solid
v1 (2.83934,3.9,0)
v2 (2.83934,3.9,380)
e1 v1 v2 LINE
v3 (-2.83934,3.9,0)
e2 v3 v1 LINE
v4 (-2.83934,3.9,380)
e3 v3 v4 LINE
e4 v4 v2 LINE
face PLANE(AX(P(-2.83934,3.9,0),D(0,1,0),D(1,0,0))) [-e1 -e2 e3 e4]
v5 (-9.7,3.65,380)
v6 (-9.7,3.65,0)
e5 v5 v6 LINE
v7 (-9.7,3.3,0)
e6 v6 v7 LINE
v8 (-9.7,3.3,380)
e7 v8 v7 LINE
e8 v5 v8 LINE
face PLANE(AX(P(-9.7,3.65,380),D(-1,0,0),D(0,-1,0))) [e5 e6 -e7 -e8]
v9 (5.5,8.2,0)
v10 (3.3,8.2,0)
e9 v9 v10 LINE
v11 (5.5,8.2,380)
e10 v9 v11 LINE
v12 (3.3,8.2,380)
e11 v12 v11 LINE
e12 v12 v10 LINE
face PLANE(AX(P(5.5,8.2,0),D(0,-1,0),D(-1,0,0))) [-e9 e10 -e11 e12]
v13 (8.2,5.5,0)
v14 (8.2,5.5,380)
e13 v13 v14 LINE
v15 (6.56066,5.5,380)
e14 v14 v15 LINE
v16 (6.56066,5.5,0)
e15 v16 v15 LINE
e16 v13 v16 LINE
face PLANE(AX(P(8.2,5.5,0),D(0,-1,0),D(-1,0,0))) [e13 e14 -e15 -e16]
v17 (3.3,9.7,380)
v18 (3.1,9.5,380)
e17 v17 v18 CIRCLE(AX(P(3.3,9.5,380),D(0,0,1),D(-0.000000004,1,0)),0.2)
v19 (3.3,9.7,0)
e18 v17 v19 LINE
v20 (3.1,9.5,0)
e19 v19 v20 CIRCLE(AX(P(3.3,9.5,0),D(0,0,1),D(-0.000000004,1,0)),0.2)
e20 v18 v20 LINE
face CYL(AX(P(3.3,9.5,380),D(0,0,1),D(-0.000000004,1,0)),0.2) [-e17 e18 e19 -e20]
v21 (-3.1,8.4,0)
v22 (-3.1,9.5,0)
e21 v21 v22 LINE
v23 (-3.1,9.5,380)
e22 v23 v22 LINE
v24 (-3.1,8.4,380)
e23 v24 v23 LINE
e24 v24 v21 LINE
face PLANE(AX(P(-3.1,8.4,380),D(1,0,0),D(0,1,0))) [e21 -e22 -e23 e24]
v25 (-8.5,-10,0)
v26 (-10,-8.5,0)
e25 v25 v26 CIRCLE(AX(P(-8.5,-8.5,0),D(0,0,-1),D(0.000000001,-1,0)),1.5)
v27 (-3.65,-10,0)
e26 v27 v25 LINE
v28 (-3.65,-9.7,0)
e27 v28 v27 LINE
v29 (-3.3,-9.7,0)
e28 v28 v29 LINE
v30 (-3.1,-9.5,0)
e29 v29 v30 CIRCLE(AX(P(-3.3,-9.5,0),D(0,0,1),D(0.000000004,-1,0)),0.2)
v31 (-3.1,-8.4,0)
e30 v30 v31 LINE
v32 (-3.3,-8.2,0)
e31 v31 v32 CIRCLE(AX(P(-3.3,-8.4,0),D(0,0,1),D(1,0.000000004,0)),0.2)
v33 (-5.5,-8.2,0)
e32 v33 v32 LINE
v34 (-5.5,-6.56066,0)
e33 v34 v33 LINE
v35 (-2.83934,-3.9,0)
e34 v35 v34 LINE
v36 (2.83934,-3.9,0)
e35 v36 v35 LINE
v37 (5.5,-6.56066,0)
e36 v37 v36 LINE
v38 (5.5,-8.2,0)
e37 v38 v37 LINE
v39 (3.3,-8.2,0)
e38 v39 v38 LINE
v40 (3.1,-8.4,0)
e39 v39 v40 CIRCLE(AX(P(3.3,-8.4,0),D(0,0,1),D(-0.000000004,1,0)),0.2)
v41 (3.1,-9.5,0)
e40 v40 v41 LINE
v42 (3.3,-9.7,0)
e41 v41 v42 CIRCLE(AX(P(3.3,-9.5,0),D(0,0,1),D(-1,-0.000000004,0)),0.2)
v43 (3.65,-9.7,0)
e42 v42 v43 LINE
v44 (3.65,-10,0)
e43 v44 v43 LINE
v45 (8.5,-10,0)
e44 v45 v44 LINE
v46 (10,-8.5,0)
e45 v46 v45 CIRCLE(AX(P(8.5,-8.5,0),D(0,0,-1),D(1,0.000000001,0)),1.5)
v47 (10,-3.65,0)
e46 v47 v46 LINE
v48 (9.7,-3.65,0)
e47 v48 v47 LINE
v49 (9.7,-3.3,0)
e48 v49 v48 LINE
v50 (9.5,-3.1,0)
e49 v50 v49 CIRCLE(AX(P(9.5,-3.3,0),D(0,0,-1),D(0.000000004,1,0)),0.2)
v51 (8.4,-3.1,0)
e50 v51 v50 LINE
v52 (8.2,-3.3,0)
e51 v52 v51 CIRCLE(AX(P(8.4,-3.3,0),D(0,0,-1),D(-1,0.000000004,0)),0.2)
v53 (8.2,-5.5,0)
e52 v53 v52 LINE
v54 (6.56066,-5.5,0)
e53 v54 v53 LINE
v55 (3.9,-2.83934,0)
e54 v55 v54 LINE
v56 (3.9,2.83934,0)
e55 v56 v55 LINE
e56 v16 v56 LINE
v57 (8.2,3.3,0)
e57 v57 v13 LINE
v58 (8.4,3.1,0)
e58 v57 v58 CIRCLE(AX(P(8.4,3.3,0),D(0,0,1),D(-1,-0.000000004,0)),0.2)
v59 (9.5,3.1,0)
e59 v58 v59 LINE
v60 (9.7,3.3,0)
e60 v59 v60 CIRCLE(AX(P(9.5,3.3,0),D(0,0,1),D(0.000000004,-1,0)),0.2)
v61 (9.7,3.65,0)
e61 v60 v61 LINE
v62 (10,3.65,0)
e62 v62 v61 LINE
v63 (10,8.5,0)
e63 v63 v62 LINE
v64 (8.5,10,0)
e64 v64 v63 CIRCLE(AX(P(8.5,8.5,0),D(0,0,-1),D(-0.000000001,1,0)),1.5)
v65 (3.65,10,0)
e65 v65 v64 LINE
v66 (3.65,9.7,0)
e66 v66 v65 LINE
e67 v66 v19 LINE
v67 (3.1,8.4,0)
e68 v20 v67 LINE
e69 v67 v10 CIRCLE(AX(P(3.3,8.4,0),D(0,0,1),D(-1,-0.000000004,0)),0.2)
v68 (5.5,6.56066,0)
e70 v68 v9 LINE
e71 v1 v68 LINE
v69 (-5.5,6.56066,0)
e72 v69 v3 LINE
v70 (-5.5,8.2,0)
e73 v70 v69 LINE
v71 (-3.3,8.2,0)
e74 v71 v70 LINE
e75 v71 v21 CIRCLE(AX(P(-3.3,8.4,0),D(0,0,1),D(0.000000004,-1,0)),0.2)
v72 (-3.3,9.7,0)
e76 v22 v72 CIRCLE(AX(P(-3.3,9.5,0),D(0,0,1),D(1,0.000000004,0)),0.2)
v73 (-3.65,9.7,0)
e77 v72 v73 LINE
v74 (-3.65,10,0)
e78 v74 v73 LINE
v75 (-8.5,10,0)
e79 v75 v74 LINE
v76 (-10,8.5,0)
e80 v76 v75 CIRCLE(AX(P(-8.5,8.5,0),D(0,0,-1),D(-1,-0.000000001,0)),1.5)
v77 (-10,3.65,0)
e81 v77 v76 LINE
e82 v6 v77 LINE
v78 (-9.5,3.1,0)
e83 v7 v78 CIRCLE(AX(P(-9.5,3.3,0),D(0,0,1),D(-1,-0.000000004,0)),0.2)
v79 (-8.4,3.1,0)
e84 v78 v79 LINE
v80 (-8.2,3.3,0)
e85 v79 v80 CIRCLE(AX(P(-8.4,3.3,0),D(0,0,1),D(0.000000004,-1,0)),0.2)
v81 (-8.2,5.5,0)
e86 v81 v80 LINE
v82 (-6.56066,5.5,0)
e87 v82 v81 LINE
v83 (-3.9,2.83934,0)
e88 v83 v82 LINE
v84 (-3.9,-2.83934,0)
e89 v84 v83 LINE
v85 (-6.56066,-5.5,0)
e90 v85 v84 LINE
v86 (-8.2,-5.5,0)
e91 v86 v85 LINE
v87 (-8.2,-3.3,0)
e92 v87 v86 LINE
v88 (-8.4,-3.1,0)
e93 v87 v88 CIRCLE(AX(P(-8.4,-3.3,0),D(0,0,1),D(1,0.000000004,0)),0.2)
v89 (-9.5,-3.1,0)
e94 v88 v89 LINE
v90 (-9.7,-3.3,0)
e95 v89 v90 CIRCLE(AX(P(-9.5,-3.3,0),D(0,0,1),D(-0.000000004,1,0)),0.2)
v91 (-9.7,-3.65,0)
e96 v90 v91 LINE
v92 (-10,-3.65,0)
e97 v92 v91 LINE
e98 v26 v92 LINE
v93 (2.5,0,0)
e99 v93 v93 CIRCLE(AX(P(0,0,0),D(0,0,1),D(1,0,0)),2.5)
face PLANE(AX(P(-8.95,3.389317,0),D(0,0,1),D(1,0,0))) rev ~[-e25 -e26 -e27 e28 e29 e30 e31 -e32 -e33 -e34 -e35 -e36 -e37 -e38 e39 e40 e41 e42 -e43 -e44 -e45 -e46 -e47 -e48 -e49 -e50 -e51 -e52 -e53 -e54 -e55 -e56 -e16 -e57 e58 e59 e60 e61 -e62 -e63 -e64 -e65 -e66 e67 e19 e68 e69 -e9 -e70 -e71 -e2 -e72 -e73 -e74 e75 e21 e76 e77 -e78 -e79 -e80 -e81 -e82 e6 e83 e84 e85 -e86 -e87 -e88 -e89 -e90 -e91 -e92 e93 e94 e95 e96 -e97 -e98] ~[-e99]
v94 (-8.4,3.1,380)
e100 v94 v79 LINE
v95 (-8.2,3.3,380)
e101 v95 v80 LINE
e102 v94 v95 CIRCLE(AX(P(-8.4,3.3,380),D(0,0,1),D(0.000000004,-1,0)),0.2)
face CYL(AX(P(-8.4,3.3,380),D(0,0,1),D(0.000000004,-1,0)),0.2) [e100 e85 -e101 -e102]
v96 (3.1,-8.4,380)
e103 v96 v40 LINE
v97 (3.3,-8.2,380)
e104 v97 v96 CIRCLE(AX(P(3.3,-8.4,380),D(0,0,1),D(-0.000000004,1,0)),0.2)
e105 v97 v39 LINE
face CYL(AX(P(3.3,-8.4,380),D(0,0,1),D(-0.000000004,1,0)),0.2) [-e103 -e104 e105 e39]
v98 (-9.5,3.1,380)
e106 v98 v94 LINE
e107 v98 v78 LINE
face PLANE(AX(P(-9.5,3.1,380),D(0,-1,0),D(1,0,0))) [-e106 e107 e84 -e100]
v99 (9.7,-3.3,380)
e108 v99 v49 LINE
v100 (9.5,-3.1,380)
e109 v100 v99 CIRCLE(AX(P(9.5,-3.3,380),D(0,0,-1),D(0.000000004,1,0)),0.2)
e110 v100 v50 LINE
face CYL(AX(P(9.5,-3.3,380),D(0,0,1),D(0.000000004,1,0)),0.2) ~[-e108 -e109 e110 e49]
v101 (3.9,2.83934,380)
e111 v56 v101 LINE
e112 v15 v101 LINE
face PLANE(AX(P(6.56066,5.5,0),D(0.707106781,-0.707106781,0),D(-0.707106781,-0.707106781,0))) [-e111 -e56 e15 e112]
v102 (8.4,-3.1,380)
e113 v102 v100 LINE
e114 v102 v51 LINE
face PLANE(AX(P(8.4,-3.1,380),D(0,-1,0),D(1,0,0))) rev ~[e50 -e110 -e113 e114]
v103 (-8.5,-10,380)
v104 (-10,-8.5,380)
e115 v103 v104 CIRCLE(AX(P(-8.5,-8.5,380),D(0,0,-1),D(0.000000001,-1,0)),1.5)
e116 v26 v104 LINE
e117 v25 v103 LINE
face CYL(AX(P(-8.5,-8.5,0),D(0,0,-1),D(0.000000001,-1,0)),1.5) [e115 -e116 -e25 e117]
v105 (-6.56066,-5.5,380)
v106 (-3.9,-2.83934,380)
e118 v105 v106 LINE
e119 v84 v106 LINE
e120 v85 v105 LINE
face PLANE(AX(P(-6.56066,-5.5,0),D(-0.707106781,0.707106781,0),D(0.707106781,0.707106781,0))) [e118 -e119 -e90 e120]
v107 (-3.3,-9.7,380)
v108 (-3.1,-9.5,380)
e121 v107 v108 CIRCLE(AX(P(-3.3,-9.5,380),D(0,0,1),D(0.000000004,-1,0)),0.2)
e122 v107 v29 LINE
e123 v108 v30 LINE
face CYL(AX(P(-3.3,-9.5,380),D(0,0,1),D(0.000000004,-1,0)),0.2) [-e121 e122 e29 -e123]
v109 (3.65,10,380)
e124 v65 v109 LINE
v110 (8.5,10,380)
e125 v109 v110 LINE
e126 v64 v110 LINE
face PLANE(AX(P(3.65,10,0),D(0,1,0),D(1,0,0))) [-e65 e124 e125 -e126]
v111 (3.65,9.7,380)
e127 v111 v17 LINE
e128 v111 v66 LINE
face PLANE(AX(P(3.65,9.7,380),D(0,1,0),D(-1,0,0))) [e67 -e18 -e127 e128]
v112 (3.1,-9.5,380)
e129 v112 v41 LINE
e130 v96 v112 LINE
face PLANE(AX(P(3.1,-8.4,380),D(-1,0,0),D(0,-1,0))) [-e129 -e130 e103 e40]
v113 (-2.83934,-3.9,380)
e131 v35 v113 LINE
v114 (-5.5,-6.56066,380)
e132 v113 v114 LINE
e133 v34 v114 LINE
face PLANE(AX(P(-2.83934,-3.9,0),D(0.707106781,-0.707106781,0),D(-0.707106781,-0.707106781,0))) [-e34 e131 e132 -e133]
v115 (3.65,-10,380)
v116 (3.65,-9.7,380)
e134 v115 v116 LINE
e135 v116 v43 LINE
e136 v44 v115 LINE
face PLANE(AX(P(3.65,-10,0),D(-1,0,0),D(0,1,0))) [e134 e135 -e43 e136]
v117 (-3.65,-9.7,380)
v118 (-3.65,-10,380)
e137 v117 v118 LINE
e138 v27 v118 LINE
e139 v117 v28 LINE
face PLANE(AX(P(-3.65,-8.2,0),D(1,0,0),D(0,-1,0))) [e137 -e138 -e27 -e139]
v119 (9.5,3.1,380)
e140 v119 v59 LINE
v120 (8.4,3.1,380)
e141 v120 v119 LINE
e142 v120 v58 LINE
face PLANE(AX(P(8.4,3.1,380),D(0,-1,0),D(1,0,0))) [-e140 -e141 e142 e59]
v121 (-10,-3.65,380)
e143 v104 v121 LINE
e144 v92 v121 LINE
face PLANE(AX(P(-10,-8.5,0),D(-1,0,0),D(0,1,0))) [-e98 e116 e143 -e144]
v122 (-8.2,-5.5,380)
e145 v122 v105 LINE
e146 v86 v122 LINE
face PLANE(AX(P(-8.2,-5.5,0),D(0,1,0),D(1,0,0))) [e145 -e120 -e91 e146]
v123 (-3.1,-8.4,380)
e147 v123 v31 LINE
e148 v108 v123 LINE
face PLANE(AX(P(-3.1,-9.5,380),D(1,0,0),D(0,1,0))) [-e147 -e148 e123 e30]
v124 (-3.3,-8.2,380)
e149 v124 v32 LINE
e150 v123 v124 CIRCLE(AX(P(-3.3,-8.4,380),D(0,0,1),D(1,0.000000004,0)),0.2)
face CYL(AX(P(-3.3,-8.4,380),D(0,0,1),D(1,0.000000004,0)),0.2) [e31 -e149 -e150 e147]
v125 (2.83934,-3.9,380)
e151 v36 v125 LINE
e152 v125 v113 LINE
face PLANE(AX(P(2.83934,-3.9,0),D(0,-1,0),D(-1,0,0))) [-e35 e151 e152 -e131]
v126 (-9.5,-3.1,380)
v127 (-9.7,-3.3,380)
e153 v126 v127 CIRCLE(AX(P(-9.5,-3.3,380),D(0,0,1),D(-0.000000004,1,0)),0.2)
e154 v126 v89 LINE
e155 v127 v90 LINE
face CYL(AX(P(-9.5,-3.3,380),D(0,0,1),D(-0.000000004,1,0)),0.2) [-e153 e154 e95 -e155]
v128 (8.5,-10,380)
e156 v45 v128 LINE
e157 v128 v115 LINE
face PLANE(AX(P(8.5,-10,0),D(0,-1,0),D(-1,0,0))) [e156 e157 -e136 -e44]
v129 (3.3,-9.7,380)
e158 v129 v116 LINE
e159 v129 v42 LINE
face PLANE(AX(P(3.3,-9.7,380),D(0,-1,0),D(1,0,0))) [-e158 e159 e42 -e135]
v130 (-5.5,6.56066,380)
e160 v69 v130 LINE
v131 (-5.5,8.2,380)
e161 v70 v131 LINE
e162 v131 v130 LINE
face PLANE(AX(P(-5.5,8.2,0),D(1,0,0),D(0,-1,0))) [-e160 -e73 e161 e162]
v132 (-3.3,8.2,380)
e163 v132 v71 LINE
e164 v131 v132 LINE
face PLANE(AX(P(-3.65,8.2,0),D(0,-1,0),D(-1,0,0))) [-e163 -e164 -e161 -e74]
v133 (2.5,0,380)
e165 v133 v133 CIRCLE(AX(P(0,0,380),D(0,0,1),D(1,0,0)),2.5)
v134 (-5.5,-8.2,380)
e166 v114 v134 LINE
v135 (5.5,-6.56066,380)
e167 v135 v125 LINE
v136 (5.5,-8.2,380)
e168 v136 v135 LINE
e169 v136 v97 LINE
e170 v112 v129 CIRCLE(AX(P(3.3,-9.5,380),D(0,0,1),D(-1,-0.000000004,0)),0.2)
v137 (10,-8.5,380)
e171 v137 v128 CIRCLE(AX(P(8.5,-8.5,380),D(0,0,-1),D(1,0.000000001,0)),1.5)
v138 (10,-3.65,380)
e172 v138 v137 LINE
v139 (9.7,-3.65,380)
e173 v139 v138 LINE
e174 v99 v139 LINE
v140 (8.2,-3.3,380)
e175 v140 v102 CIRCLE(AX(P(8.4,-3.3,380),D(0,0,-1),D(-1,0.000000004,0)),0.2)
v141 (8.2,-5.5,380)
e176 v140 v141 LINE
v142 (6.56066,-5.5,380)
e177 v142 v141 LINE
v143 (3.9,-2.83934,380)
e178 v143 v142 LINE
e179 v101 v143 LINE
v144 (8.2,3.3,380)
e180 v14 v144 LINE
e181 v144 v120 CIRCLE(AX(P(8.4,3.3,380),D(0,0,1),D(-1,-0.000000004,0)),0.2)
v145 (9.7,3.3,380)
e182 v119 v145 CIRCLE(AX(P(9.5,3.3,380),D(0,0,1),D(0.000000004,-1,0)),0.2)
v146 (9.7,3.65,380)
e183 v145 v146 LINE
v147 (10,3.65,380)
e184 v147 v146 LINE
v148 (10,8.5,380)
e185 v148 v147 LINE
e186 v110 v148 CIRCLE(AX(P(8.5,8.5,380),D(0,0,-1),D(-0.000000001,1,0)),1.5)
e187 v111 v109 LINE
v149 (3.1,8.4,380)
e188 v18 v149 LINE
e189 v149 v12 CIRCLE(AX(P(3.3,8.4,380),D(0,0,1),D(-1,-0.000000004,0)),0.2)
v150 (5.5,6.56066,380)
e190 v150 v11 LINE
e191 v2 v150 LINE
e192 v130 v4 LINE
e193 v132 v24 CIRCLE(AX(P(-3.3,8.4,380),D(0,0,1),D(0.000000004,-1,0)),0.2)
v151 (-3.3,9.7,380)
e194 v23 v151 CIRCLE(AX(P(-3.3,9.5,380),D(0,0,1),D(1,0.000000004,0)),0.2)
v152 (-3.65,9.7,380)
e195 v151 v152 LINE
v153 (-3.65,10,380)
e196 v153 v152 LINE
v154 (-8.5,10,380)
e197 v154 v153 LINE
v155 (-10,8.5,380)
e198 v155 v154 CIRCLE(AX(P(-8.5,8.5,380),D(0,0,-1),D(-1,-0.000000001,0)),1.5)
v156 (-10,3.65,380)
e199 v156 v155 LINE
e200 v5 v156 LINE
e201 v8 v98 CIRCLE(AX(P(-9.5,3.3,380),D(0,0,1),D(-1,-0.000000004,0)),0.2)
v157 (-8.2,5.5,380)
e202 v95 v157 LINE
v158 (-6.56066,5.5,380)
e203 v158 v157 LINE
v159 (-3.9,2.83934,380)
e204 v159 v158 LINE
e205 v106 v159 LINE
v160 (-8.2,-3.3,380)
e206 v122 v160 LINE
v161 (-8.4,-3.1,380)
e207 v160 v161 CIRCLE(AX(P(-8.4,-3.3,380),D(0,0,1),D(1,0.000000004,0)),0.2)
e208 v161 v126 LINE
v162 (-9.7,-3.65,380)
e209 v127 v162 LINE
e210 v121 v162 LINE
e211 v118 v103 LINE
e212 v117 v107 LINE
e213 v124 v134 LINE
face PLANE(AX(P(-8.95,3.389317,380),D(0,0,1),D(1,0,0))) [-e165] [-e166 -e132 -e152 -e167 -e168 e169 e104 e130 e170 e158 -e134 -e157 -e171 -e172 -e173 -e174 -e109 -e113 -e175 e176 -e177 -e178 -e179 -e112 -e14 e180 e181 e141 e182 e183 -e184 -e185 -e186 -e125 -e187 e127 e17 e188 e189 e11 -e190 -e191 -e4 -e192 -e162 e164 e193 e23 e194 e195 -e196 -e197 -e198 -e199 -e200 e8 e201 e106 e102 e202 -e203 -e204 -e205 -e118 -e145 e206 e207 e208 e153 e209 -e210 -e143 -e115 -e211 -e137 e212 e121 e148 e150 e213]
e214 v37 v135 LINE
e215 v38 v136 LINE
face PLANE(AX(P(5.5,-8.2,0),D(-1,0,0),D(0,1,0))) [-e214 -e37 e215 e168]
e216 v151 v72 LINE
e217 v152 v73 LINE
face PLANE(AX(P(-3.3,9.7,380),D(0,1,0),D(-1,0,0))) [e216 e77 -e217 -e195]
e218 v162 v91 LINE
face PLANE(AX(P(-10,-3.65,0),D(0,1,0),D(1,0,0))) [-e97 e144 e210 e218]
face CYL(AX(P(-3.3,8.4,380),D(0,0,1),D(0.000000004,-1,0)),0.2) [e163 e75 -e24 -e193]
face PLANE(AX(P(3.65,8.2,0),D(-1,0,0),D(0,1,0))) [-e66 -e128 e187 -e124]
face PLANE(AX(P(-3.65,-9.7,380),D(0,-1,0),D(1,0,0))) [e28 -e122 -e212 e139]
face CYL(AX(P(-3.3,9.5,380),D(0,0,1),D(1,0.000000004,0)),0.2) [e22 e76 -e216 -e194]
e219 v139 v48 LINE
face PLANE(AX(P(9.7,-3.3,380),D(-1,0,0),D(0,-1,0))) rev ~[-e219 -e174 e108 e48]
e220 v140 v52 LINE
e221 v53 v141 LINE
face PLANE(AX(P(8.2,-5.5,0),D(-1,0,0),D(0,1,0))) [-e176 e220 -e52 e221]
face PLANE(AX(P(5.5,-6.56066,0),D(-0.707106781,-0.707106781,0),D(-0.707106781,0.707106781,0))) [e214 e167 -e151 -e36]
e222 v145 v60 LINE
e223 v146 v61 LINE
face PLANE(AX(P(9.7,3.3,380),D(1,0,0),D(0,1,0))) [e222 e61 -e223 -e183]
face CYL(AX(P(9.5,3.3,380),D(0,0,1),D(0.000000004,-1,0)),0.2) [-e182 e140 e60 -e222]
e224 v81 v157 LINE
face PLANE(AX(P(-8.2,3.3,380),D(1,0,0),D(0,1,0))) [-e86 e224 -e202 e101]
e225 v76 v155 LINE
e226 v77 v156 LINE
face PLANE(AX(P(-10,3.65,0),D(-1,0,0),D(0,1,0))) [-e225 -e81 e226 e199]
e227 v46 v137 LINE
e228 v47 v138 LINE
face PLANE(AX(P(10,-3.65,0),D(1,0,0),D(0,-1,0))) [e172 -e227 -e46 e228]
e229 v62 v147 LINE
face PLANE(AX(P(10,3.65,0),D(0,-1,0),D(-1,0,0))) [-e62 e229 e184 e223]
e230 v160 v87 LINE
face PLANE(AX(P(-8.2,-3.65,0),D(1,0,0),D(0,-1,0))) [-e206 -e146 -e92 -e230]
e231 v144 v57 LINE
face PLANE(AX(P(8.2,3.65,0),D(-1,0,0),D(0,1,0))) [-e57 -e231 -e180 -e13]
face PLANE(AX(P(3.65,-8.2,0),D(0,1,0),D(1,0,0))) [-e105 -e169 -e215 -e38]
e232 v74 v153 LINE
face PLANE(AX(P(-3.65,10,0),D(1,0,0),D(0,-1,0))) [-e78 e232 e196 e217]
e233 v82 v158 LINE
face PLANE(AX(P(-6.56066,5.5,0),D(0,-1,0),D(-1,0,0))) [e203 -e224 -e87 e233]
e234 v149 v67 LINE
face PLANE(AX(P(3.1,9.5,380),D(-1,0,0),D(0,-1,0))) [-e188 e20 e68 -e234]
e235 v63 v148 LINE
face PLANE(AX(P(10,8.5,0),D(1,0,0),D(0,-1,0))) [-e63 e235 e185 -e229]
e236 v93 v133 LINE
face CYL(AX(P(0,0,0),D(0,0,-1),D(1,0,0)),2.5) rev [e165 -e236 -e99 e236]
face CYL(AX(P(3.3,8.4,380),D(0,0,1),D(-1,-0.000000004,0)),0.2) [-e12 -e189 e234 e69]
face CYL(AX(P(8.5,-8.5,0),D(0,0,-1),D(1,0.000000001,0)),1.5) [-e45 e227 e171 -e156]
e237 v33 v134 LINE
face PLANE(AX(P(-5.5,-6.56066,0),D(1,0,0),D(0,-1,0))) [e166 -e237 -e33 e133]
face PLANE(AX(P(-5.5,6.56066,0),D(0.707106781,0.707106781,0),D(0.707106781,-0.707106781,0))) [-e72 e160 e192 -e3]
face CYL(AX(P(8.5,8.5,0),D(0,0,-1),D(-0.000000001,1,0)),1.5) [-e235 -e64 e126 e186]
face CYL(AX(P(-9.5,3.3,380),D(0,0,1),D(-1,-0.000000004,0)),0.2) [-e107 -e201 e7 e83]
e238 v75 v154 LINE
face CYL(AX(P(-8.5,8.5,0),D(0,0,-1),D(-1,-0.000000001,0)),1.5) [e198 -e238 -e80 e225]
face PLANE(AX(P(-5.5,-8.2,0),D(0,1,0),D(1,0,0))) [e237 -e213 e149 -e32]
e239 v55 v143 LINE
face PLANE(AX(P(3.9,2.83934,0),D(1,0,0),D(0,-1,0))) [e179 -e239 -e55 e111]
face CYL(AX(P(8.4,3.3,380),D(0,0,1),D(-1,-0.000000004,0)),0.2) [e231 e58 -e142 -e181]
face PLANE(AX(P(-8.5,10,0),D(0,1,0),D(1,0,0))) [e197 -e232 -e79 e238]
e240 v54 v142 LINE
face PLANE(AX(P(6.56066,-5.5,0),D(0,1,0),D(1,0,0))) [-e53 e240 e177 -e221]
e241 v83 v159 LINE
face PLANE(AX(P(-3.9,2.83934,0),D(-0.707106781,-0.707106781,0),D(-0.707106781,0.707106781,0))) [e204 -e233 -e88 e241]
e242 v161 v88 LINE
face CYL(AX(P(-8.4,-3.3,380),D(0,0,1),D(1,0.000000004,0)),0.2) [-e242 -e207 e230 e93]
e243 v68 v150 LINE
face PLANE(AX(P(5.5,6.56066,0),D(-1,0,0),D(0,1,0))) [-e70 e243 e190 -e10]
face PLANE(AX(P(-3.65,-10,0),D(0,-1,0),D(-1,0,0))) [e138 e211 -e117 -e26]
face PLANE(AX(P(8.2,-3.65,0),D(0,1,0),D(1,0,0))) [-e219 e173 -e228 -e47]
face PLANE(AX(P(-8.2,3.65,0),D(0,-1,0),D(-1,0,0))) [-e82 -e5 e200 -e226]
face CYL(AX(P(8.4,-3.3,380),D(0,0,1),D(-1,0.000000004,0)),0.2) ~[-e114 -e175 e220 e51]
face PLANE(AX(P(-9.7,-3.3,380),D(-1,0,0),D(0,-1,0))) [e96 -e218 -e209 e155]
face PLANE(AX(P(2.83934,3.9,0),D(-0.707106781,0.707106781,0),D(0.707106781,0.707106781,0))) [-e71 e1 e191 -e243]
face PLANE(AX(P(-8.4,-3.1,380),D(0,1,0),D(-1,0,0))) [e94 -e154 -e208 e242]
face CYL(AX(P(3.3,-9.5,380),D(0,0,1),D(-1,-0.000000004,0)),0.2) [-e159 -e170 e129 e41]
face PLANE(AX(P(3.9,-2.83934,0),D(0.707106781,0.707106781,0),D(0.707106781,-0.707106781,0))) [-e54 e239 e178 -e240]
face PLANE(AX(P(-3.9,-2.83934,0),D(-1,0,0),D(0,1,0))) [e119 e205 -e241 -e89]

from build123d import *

# Parameters (mm, degrees)
SKETCH_1_R      = 2.5
EXTRUDE_2_DEPTH = 380
EXTRUDE_3_DEPTH = 380


with BuildPart() as part:
    # 草图1 → 凸台-拉伸2 (new body)
    with BuildSketch(Plane.XY):
        with BuildLine():
            Line((3.65, 10), (8.5, 10))
            ThreePointArc((8.5, 10), (9.560660172, 9.560660172), (10, 8.5))
            Line((10, 8.5), (10, 3.65))
            Line((10, 3.65), (8.2, 3.65))
            Line((8.2, 3.65), (8.2, 5.5))
            Line((8.2, 5.5), (6.560660172, 5.5))
            Line((6.560660172, 5.5), (3.9, 2.839339828))
            Line((3.9, 2.839339828), (3.9, -2.839339828))
            Line((3.9, -2.839339828), (6.560660172, -5.5))
            Line((6.560660172, -5.5), (8.2, -5.5))
            Line((8.2, -5.5), (8.2, -3.65))
            Line((8.2, -3.65), (10, -3.65))
            Line((10, -3.65), (10, -8.5))
            ThreePointArc((10, -8.5), (9.560660172, -9.560660172), (8.5, -10))
            Line((8.5, -10), (3.65, -10))
            Line((3.65, -10), (3.65, -8.2))
            Line((3.65, -8.2), (5.5, -8.2))
            Line((5.5, -8.2), (5.5, -6.560660172))
            Line((5.5, -6.560660172), (2.839339828, -3.9))
            Line((2.839339828, -3.9), (-2.839339828, -3.9))
            Line((-2.839339828, -3.9), (-5.5, -6.560660172))
            Line((-5.5, -6.560660172), (-5.5, -8.2))
            Line((-5.5, -8.2), (-3.65, -8.2))
            Line((-3.65, -8.2), (-3.65, -10))
            Line((-3.65, -10), (-8.5, -10))
            ThreePointArc((-8.5, -10), (-9.560660172, -9.560660172), (-10, -8.5))
            Line((-10, -8.5), (-10, -3.65))
            Line((-10, -3.65), (-8.2, -3.65))
            Line((-8.2, -3.65), (-8.2, -5.5))
            Line((-8.2, -5.5), (-6.560660172, -5.5))
            Line((-6.560660172, -5.5), (-3.9, -2.839339828))
            Line((-3.9, -2.839339828), (-3.9, 2.839339828))
            Line((-3.9, 2.839339828), (-6.560660172, 5.5))
            Line((-6.560660172, 5.5), (-8.2, 5.5))
            Line((-8.2, 5.5), (-8.2, 3.65))
            Line((-8.2, 3.65), (-10, 3.65))
            Line((-10, 3.65), (-10, 8.5))
            ThreePointArc((-10, 8.5), (-9.560660172, 9.560660172), (-8.5, 10))
            Line((-8.5, 10), (-3.65, 10))
            Line((-3.65, 10), (-3.65, 8.2))
            Line((-3.65, 8.2), (-5.5, 8.2))
            Line((-5.5, 8.2), (-5.5, 6.560660172))
            Line((-5.5, 6.560660172), (-2.839339828, 3.9))
            Line((-2.839339828, 3.9), (2.839339828, 3.9))
            Line((2.839339828, 3.9), (5.5, 6.560660172))
            Line((5.5, 6.560660172), (5.5, 8.2))
            Line((5.5, 8.2), (3.65, 8.2))
            Line((3.65, 8.2), (3.65, 10))
        make_face()
        Circle(SKETCH_1_R, mode=Mode.SUBTRACT)
    extrude(amount=EXTRUDE_2_DEPTH)

    # 草图3 → 凸台-拉伸3 (add)
    with BuildSketch(Plane.XY.offset(380)):
        with BuildLine():
            Line((-8.2, 3.65), (-9.7, 3.65))
            Line((-9.7, 3.65), (-9.7, 3.3))
            ThreePointArc((-9.7, 3.3), (-9.641421356, 3.158578644), (-9.5, 3.1))
            Line((-9.5, 3.1), (-8.4, 3.1))
            ThreePointArc((-8.4, 3.1), (-8.258578644, 3.158578644), (-8.2, 3.3))
            Line((-8.2, 3.3), (-8.2, 3.65))
        make_face()
        with BuildLine():
            Line((-3.65, 9.7), (-3.65, 8.2))
            Line((-3.65, 8.2), (-3.3, 8.2))
            ThreePointArc((-3.3, 8.2), (-3.158578644, 8.258578644), (-3.1, 8.4))
            Line((-3.1, 8.4), (-3.1, 9.5))
            ThreePointArc((-3.1, 9.5), (-3.158578644, 9.641421356), (-3.3, 9.7))
            Line((-3.3, 9.7), (-3.65, 9.7))
        make_face()
        with BuildLine():
            Line((3.65, 8.2), (3.65, 9.7))
            Line((3.65, 9.7), (3.3, 9.7))
            ThreePointArc((3.3, 9.7), (3.158578644, 9.641421356), (3.1, 9.5))
            Line((3.1, 9.5), (3.1, 8.4))
            ThreePointArc((3.1, 8.4), (3.158578644, 8.258578644), (3.3, 8.2))
            Line((3.3, 8.2), (3.65, 8.2))
        make_face()
        with BuildLine():
            Line((9.7, 3.65), (8.2, 3.65))
            Line((8.2, 3.65), (8.2, 3.3))
            ThreePointArc((8.2, 3.3), (8.258578644, 3.158578644), (8.4, 3.1))
            Line((8.4, 3.1), (9.5, 3.1))
            ThreePointArc((9.5, 3.1), (9.641421356, 3.158578644), (9.7, 3.3))
            Line((9.7, 3.3), (9.7, 3.65))
        make_face()
        with BuildLine():
            Line((3.65, -9.7), (3.65, -8.2))
            Line((3.65, -8.2), (3.3, -8.2))
            ThreePointArc((3.3, -8.2), (3.158578644, -8.258578644), (3.1, -8.4))
            Line((3.1, -8.4), (3.1, -9.5))
            ThreePointArc((3.1, -9.5), (3.158578644, -9.641421356), (3.3, -9.7))
            Line((3.3, -9.7), (3.65, -9.7))
        make_face()
        with BuildLine():
            Line((-3.65, -8.2), (-3.65, -9.7))
            Line((-3.65, -9.7), (-3.3, -9.7))
            ThreePointArc((-3.3, -9.7), (-3.158578644, -9.641421356), (-3.1, -9.5))
            Line((-3.1, -9.5), (-3.1, -8.4))
            ThreePointArc((-3.1, -8.4), (-3.158578644, -8.258578644), (-3.3, -8.2))
            Line((-3.3, -8.2), (-3.65, -8.2))
        make_face()
        with BuildLine():
            Line((8.2, -3.65), (8.2, -3.3))
            ThreePointArc((8.2, -3.3), (8.258578644, -3.158578644), (8.4, -3.1))
            Line((8.4, -3.1), (9.5, -3.1))
            ThreePointArc((9.5, -3.1), (9.641421356, -3.158578644), (9.7, -3.3))
            Line((9.7, -3.3), (9.7, -3.65))
            Line((9.7, -3.65), (8.2, -3.65))
        make_face()
        with BuildLine():
            Line((-8.2, -3.65), (-8.2, -3.3))
            ThreePointArc((-8.2, -3.3), (-8.258578644, -3.158578644), (-8.4, -3.1))
            Line((-8.4, -3.1), (-9.5, -3.1))
            ThreePointArc((-9.5, -3.1), (-9.641421356, -3.158578644), (-9.7, -3.3))
            Line((-9.7, -3.3), (-9.7, -3.65))
            Line((-9.7, -3.65), (-8.2, -3.65))
        make_face()
    extrude(amount=-EXTRUDE_3_DEPTH)


solid = part.part
